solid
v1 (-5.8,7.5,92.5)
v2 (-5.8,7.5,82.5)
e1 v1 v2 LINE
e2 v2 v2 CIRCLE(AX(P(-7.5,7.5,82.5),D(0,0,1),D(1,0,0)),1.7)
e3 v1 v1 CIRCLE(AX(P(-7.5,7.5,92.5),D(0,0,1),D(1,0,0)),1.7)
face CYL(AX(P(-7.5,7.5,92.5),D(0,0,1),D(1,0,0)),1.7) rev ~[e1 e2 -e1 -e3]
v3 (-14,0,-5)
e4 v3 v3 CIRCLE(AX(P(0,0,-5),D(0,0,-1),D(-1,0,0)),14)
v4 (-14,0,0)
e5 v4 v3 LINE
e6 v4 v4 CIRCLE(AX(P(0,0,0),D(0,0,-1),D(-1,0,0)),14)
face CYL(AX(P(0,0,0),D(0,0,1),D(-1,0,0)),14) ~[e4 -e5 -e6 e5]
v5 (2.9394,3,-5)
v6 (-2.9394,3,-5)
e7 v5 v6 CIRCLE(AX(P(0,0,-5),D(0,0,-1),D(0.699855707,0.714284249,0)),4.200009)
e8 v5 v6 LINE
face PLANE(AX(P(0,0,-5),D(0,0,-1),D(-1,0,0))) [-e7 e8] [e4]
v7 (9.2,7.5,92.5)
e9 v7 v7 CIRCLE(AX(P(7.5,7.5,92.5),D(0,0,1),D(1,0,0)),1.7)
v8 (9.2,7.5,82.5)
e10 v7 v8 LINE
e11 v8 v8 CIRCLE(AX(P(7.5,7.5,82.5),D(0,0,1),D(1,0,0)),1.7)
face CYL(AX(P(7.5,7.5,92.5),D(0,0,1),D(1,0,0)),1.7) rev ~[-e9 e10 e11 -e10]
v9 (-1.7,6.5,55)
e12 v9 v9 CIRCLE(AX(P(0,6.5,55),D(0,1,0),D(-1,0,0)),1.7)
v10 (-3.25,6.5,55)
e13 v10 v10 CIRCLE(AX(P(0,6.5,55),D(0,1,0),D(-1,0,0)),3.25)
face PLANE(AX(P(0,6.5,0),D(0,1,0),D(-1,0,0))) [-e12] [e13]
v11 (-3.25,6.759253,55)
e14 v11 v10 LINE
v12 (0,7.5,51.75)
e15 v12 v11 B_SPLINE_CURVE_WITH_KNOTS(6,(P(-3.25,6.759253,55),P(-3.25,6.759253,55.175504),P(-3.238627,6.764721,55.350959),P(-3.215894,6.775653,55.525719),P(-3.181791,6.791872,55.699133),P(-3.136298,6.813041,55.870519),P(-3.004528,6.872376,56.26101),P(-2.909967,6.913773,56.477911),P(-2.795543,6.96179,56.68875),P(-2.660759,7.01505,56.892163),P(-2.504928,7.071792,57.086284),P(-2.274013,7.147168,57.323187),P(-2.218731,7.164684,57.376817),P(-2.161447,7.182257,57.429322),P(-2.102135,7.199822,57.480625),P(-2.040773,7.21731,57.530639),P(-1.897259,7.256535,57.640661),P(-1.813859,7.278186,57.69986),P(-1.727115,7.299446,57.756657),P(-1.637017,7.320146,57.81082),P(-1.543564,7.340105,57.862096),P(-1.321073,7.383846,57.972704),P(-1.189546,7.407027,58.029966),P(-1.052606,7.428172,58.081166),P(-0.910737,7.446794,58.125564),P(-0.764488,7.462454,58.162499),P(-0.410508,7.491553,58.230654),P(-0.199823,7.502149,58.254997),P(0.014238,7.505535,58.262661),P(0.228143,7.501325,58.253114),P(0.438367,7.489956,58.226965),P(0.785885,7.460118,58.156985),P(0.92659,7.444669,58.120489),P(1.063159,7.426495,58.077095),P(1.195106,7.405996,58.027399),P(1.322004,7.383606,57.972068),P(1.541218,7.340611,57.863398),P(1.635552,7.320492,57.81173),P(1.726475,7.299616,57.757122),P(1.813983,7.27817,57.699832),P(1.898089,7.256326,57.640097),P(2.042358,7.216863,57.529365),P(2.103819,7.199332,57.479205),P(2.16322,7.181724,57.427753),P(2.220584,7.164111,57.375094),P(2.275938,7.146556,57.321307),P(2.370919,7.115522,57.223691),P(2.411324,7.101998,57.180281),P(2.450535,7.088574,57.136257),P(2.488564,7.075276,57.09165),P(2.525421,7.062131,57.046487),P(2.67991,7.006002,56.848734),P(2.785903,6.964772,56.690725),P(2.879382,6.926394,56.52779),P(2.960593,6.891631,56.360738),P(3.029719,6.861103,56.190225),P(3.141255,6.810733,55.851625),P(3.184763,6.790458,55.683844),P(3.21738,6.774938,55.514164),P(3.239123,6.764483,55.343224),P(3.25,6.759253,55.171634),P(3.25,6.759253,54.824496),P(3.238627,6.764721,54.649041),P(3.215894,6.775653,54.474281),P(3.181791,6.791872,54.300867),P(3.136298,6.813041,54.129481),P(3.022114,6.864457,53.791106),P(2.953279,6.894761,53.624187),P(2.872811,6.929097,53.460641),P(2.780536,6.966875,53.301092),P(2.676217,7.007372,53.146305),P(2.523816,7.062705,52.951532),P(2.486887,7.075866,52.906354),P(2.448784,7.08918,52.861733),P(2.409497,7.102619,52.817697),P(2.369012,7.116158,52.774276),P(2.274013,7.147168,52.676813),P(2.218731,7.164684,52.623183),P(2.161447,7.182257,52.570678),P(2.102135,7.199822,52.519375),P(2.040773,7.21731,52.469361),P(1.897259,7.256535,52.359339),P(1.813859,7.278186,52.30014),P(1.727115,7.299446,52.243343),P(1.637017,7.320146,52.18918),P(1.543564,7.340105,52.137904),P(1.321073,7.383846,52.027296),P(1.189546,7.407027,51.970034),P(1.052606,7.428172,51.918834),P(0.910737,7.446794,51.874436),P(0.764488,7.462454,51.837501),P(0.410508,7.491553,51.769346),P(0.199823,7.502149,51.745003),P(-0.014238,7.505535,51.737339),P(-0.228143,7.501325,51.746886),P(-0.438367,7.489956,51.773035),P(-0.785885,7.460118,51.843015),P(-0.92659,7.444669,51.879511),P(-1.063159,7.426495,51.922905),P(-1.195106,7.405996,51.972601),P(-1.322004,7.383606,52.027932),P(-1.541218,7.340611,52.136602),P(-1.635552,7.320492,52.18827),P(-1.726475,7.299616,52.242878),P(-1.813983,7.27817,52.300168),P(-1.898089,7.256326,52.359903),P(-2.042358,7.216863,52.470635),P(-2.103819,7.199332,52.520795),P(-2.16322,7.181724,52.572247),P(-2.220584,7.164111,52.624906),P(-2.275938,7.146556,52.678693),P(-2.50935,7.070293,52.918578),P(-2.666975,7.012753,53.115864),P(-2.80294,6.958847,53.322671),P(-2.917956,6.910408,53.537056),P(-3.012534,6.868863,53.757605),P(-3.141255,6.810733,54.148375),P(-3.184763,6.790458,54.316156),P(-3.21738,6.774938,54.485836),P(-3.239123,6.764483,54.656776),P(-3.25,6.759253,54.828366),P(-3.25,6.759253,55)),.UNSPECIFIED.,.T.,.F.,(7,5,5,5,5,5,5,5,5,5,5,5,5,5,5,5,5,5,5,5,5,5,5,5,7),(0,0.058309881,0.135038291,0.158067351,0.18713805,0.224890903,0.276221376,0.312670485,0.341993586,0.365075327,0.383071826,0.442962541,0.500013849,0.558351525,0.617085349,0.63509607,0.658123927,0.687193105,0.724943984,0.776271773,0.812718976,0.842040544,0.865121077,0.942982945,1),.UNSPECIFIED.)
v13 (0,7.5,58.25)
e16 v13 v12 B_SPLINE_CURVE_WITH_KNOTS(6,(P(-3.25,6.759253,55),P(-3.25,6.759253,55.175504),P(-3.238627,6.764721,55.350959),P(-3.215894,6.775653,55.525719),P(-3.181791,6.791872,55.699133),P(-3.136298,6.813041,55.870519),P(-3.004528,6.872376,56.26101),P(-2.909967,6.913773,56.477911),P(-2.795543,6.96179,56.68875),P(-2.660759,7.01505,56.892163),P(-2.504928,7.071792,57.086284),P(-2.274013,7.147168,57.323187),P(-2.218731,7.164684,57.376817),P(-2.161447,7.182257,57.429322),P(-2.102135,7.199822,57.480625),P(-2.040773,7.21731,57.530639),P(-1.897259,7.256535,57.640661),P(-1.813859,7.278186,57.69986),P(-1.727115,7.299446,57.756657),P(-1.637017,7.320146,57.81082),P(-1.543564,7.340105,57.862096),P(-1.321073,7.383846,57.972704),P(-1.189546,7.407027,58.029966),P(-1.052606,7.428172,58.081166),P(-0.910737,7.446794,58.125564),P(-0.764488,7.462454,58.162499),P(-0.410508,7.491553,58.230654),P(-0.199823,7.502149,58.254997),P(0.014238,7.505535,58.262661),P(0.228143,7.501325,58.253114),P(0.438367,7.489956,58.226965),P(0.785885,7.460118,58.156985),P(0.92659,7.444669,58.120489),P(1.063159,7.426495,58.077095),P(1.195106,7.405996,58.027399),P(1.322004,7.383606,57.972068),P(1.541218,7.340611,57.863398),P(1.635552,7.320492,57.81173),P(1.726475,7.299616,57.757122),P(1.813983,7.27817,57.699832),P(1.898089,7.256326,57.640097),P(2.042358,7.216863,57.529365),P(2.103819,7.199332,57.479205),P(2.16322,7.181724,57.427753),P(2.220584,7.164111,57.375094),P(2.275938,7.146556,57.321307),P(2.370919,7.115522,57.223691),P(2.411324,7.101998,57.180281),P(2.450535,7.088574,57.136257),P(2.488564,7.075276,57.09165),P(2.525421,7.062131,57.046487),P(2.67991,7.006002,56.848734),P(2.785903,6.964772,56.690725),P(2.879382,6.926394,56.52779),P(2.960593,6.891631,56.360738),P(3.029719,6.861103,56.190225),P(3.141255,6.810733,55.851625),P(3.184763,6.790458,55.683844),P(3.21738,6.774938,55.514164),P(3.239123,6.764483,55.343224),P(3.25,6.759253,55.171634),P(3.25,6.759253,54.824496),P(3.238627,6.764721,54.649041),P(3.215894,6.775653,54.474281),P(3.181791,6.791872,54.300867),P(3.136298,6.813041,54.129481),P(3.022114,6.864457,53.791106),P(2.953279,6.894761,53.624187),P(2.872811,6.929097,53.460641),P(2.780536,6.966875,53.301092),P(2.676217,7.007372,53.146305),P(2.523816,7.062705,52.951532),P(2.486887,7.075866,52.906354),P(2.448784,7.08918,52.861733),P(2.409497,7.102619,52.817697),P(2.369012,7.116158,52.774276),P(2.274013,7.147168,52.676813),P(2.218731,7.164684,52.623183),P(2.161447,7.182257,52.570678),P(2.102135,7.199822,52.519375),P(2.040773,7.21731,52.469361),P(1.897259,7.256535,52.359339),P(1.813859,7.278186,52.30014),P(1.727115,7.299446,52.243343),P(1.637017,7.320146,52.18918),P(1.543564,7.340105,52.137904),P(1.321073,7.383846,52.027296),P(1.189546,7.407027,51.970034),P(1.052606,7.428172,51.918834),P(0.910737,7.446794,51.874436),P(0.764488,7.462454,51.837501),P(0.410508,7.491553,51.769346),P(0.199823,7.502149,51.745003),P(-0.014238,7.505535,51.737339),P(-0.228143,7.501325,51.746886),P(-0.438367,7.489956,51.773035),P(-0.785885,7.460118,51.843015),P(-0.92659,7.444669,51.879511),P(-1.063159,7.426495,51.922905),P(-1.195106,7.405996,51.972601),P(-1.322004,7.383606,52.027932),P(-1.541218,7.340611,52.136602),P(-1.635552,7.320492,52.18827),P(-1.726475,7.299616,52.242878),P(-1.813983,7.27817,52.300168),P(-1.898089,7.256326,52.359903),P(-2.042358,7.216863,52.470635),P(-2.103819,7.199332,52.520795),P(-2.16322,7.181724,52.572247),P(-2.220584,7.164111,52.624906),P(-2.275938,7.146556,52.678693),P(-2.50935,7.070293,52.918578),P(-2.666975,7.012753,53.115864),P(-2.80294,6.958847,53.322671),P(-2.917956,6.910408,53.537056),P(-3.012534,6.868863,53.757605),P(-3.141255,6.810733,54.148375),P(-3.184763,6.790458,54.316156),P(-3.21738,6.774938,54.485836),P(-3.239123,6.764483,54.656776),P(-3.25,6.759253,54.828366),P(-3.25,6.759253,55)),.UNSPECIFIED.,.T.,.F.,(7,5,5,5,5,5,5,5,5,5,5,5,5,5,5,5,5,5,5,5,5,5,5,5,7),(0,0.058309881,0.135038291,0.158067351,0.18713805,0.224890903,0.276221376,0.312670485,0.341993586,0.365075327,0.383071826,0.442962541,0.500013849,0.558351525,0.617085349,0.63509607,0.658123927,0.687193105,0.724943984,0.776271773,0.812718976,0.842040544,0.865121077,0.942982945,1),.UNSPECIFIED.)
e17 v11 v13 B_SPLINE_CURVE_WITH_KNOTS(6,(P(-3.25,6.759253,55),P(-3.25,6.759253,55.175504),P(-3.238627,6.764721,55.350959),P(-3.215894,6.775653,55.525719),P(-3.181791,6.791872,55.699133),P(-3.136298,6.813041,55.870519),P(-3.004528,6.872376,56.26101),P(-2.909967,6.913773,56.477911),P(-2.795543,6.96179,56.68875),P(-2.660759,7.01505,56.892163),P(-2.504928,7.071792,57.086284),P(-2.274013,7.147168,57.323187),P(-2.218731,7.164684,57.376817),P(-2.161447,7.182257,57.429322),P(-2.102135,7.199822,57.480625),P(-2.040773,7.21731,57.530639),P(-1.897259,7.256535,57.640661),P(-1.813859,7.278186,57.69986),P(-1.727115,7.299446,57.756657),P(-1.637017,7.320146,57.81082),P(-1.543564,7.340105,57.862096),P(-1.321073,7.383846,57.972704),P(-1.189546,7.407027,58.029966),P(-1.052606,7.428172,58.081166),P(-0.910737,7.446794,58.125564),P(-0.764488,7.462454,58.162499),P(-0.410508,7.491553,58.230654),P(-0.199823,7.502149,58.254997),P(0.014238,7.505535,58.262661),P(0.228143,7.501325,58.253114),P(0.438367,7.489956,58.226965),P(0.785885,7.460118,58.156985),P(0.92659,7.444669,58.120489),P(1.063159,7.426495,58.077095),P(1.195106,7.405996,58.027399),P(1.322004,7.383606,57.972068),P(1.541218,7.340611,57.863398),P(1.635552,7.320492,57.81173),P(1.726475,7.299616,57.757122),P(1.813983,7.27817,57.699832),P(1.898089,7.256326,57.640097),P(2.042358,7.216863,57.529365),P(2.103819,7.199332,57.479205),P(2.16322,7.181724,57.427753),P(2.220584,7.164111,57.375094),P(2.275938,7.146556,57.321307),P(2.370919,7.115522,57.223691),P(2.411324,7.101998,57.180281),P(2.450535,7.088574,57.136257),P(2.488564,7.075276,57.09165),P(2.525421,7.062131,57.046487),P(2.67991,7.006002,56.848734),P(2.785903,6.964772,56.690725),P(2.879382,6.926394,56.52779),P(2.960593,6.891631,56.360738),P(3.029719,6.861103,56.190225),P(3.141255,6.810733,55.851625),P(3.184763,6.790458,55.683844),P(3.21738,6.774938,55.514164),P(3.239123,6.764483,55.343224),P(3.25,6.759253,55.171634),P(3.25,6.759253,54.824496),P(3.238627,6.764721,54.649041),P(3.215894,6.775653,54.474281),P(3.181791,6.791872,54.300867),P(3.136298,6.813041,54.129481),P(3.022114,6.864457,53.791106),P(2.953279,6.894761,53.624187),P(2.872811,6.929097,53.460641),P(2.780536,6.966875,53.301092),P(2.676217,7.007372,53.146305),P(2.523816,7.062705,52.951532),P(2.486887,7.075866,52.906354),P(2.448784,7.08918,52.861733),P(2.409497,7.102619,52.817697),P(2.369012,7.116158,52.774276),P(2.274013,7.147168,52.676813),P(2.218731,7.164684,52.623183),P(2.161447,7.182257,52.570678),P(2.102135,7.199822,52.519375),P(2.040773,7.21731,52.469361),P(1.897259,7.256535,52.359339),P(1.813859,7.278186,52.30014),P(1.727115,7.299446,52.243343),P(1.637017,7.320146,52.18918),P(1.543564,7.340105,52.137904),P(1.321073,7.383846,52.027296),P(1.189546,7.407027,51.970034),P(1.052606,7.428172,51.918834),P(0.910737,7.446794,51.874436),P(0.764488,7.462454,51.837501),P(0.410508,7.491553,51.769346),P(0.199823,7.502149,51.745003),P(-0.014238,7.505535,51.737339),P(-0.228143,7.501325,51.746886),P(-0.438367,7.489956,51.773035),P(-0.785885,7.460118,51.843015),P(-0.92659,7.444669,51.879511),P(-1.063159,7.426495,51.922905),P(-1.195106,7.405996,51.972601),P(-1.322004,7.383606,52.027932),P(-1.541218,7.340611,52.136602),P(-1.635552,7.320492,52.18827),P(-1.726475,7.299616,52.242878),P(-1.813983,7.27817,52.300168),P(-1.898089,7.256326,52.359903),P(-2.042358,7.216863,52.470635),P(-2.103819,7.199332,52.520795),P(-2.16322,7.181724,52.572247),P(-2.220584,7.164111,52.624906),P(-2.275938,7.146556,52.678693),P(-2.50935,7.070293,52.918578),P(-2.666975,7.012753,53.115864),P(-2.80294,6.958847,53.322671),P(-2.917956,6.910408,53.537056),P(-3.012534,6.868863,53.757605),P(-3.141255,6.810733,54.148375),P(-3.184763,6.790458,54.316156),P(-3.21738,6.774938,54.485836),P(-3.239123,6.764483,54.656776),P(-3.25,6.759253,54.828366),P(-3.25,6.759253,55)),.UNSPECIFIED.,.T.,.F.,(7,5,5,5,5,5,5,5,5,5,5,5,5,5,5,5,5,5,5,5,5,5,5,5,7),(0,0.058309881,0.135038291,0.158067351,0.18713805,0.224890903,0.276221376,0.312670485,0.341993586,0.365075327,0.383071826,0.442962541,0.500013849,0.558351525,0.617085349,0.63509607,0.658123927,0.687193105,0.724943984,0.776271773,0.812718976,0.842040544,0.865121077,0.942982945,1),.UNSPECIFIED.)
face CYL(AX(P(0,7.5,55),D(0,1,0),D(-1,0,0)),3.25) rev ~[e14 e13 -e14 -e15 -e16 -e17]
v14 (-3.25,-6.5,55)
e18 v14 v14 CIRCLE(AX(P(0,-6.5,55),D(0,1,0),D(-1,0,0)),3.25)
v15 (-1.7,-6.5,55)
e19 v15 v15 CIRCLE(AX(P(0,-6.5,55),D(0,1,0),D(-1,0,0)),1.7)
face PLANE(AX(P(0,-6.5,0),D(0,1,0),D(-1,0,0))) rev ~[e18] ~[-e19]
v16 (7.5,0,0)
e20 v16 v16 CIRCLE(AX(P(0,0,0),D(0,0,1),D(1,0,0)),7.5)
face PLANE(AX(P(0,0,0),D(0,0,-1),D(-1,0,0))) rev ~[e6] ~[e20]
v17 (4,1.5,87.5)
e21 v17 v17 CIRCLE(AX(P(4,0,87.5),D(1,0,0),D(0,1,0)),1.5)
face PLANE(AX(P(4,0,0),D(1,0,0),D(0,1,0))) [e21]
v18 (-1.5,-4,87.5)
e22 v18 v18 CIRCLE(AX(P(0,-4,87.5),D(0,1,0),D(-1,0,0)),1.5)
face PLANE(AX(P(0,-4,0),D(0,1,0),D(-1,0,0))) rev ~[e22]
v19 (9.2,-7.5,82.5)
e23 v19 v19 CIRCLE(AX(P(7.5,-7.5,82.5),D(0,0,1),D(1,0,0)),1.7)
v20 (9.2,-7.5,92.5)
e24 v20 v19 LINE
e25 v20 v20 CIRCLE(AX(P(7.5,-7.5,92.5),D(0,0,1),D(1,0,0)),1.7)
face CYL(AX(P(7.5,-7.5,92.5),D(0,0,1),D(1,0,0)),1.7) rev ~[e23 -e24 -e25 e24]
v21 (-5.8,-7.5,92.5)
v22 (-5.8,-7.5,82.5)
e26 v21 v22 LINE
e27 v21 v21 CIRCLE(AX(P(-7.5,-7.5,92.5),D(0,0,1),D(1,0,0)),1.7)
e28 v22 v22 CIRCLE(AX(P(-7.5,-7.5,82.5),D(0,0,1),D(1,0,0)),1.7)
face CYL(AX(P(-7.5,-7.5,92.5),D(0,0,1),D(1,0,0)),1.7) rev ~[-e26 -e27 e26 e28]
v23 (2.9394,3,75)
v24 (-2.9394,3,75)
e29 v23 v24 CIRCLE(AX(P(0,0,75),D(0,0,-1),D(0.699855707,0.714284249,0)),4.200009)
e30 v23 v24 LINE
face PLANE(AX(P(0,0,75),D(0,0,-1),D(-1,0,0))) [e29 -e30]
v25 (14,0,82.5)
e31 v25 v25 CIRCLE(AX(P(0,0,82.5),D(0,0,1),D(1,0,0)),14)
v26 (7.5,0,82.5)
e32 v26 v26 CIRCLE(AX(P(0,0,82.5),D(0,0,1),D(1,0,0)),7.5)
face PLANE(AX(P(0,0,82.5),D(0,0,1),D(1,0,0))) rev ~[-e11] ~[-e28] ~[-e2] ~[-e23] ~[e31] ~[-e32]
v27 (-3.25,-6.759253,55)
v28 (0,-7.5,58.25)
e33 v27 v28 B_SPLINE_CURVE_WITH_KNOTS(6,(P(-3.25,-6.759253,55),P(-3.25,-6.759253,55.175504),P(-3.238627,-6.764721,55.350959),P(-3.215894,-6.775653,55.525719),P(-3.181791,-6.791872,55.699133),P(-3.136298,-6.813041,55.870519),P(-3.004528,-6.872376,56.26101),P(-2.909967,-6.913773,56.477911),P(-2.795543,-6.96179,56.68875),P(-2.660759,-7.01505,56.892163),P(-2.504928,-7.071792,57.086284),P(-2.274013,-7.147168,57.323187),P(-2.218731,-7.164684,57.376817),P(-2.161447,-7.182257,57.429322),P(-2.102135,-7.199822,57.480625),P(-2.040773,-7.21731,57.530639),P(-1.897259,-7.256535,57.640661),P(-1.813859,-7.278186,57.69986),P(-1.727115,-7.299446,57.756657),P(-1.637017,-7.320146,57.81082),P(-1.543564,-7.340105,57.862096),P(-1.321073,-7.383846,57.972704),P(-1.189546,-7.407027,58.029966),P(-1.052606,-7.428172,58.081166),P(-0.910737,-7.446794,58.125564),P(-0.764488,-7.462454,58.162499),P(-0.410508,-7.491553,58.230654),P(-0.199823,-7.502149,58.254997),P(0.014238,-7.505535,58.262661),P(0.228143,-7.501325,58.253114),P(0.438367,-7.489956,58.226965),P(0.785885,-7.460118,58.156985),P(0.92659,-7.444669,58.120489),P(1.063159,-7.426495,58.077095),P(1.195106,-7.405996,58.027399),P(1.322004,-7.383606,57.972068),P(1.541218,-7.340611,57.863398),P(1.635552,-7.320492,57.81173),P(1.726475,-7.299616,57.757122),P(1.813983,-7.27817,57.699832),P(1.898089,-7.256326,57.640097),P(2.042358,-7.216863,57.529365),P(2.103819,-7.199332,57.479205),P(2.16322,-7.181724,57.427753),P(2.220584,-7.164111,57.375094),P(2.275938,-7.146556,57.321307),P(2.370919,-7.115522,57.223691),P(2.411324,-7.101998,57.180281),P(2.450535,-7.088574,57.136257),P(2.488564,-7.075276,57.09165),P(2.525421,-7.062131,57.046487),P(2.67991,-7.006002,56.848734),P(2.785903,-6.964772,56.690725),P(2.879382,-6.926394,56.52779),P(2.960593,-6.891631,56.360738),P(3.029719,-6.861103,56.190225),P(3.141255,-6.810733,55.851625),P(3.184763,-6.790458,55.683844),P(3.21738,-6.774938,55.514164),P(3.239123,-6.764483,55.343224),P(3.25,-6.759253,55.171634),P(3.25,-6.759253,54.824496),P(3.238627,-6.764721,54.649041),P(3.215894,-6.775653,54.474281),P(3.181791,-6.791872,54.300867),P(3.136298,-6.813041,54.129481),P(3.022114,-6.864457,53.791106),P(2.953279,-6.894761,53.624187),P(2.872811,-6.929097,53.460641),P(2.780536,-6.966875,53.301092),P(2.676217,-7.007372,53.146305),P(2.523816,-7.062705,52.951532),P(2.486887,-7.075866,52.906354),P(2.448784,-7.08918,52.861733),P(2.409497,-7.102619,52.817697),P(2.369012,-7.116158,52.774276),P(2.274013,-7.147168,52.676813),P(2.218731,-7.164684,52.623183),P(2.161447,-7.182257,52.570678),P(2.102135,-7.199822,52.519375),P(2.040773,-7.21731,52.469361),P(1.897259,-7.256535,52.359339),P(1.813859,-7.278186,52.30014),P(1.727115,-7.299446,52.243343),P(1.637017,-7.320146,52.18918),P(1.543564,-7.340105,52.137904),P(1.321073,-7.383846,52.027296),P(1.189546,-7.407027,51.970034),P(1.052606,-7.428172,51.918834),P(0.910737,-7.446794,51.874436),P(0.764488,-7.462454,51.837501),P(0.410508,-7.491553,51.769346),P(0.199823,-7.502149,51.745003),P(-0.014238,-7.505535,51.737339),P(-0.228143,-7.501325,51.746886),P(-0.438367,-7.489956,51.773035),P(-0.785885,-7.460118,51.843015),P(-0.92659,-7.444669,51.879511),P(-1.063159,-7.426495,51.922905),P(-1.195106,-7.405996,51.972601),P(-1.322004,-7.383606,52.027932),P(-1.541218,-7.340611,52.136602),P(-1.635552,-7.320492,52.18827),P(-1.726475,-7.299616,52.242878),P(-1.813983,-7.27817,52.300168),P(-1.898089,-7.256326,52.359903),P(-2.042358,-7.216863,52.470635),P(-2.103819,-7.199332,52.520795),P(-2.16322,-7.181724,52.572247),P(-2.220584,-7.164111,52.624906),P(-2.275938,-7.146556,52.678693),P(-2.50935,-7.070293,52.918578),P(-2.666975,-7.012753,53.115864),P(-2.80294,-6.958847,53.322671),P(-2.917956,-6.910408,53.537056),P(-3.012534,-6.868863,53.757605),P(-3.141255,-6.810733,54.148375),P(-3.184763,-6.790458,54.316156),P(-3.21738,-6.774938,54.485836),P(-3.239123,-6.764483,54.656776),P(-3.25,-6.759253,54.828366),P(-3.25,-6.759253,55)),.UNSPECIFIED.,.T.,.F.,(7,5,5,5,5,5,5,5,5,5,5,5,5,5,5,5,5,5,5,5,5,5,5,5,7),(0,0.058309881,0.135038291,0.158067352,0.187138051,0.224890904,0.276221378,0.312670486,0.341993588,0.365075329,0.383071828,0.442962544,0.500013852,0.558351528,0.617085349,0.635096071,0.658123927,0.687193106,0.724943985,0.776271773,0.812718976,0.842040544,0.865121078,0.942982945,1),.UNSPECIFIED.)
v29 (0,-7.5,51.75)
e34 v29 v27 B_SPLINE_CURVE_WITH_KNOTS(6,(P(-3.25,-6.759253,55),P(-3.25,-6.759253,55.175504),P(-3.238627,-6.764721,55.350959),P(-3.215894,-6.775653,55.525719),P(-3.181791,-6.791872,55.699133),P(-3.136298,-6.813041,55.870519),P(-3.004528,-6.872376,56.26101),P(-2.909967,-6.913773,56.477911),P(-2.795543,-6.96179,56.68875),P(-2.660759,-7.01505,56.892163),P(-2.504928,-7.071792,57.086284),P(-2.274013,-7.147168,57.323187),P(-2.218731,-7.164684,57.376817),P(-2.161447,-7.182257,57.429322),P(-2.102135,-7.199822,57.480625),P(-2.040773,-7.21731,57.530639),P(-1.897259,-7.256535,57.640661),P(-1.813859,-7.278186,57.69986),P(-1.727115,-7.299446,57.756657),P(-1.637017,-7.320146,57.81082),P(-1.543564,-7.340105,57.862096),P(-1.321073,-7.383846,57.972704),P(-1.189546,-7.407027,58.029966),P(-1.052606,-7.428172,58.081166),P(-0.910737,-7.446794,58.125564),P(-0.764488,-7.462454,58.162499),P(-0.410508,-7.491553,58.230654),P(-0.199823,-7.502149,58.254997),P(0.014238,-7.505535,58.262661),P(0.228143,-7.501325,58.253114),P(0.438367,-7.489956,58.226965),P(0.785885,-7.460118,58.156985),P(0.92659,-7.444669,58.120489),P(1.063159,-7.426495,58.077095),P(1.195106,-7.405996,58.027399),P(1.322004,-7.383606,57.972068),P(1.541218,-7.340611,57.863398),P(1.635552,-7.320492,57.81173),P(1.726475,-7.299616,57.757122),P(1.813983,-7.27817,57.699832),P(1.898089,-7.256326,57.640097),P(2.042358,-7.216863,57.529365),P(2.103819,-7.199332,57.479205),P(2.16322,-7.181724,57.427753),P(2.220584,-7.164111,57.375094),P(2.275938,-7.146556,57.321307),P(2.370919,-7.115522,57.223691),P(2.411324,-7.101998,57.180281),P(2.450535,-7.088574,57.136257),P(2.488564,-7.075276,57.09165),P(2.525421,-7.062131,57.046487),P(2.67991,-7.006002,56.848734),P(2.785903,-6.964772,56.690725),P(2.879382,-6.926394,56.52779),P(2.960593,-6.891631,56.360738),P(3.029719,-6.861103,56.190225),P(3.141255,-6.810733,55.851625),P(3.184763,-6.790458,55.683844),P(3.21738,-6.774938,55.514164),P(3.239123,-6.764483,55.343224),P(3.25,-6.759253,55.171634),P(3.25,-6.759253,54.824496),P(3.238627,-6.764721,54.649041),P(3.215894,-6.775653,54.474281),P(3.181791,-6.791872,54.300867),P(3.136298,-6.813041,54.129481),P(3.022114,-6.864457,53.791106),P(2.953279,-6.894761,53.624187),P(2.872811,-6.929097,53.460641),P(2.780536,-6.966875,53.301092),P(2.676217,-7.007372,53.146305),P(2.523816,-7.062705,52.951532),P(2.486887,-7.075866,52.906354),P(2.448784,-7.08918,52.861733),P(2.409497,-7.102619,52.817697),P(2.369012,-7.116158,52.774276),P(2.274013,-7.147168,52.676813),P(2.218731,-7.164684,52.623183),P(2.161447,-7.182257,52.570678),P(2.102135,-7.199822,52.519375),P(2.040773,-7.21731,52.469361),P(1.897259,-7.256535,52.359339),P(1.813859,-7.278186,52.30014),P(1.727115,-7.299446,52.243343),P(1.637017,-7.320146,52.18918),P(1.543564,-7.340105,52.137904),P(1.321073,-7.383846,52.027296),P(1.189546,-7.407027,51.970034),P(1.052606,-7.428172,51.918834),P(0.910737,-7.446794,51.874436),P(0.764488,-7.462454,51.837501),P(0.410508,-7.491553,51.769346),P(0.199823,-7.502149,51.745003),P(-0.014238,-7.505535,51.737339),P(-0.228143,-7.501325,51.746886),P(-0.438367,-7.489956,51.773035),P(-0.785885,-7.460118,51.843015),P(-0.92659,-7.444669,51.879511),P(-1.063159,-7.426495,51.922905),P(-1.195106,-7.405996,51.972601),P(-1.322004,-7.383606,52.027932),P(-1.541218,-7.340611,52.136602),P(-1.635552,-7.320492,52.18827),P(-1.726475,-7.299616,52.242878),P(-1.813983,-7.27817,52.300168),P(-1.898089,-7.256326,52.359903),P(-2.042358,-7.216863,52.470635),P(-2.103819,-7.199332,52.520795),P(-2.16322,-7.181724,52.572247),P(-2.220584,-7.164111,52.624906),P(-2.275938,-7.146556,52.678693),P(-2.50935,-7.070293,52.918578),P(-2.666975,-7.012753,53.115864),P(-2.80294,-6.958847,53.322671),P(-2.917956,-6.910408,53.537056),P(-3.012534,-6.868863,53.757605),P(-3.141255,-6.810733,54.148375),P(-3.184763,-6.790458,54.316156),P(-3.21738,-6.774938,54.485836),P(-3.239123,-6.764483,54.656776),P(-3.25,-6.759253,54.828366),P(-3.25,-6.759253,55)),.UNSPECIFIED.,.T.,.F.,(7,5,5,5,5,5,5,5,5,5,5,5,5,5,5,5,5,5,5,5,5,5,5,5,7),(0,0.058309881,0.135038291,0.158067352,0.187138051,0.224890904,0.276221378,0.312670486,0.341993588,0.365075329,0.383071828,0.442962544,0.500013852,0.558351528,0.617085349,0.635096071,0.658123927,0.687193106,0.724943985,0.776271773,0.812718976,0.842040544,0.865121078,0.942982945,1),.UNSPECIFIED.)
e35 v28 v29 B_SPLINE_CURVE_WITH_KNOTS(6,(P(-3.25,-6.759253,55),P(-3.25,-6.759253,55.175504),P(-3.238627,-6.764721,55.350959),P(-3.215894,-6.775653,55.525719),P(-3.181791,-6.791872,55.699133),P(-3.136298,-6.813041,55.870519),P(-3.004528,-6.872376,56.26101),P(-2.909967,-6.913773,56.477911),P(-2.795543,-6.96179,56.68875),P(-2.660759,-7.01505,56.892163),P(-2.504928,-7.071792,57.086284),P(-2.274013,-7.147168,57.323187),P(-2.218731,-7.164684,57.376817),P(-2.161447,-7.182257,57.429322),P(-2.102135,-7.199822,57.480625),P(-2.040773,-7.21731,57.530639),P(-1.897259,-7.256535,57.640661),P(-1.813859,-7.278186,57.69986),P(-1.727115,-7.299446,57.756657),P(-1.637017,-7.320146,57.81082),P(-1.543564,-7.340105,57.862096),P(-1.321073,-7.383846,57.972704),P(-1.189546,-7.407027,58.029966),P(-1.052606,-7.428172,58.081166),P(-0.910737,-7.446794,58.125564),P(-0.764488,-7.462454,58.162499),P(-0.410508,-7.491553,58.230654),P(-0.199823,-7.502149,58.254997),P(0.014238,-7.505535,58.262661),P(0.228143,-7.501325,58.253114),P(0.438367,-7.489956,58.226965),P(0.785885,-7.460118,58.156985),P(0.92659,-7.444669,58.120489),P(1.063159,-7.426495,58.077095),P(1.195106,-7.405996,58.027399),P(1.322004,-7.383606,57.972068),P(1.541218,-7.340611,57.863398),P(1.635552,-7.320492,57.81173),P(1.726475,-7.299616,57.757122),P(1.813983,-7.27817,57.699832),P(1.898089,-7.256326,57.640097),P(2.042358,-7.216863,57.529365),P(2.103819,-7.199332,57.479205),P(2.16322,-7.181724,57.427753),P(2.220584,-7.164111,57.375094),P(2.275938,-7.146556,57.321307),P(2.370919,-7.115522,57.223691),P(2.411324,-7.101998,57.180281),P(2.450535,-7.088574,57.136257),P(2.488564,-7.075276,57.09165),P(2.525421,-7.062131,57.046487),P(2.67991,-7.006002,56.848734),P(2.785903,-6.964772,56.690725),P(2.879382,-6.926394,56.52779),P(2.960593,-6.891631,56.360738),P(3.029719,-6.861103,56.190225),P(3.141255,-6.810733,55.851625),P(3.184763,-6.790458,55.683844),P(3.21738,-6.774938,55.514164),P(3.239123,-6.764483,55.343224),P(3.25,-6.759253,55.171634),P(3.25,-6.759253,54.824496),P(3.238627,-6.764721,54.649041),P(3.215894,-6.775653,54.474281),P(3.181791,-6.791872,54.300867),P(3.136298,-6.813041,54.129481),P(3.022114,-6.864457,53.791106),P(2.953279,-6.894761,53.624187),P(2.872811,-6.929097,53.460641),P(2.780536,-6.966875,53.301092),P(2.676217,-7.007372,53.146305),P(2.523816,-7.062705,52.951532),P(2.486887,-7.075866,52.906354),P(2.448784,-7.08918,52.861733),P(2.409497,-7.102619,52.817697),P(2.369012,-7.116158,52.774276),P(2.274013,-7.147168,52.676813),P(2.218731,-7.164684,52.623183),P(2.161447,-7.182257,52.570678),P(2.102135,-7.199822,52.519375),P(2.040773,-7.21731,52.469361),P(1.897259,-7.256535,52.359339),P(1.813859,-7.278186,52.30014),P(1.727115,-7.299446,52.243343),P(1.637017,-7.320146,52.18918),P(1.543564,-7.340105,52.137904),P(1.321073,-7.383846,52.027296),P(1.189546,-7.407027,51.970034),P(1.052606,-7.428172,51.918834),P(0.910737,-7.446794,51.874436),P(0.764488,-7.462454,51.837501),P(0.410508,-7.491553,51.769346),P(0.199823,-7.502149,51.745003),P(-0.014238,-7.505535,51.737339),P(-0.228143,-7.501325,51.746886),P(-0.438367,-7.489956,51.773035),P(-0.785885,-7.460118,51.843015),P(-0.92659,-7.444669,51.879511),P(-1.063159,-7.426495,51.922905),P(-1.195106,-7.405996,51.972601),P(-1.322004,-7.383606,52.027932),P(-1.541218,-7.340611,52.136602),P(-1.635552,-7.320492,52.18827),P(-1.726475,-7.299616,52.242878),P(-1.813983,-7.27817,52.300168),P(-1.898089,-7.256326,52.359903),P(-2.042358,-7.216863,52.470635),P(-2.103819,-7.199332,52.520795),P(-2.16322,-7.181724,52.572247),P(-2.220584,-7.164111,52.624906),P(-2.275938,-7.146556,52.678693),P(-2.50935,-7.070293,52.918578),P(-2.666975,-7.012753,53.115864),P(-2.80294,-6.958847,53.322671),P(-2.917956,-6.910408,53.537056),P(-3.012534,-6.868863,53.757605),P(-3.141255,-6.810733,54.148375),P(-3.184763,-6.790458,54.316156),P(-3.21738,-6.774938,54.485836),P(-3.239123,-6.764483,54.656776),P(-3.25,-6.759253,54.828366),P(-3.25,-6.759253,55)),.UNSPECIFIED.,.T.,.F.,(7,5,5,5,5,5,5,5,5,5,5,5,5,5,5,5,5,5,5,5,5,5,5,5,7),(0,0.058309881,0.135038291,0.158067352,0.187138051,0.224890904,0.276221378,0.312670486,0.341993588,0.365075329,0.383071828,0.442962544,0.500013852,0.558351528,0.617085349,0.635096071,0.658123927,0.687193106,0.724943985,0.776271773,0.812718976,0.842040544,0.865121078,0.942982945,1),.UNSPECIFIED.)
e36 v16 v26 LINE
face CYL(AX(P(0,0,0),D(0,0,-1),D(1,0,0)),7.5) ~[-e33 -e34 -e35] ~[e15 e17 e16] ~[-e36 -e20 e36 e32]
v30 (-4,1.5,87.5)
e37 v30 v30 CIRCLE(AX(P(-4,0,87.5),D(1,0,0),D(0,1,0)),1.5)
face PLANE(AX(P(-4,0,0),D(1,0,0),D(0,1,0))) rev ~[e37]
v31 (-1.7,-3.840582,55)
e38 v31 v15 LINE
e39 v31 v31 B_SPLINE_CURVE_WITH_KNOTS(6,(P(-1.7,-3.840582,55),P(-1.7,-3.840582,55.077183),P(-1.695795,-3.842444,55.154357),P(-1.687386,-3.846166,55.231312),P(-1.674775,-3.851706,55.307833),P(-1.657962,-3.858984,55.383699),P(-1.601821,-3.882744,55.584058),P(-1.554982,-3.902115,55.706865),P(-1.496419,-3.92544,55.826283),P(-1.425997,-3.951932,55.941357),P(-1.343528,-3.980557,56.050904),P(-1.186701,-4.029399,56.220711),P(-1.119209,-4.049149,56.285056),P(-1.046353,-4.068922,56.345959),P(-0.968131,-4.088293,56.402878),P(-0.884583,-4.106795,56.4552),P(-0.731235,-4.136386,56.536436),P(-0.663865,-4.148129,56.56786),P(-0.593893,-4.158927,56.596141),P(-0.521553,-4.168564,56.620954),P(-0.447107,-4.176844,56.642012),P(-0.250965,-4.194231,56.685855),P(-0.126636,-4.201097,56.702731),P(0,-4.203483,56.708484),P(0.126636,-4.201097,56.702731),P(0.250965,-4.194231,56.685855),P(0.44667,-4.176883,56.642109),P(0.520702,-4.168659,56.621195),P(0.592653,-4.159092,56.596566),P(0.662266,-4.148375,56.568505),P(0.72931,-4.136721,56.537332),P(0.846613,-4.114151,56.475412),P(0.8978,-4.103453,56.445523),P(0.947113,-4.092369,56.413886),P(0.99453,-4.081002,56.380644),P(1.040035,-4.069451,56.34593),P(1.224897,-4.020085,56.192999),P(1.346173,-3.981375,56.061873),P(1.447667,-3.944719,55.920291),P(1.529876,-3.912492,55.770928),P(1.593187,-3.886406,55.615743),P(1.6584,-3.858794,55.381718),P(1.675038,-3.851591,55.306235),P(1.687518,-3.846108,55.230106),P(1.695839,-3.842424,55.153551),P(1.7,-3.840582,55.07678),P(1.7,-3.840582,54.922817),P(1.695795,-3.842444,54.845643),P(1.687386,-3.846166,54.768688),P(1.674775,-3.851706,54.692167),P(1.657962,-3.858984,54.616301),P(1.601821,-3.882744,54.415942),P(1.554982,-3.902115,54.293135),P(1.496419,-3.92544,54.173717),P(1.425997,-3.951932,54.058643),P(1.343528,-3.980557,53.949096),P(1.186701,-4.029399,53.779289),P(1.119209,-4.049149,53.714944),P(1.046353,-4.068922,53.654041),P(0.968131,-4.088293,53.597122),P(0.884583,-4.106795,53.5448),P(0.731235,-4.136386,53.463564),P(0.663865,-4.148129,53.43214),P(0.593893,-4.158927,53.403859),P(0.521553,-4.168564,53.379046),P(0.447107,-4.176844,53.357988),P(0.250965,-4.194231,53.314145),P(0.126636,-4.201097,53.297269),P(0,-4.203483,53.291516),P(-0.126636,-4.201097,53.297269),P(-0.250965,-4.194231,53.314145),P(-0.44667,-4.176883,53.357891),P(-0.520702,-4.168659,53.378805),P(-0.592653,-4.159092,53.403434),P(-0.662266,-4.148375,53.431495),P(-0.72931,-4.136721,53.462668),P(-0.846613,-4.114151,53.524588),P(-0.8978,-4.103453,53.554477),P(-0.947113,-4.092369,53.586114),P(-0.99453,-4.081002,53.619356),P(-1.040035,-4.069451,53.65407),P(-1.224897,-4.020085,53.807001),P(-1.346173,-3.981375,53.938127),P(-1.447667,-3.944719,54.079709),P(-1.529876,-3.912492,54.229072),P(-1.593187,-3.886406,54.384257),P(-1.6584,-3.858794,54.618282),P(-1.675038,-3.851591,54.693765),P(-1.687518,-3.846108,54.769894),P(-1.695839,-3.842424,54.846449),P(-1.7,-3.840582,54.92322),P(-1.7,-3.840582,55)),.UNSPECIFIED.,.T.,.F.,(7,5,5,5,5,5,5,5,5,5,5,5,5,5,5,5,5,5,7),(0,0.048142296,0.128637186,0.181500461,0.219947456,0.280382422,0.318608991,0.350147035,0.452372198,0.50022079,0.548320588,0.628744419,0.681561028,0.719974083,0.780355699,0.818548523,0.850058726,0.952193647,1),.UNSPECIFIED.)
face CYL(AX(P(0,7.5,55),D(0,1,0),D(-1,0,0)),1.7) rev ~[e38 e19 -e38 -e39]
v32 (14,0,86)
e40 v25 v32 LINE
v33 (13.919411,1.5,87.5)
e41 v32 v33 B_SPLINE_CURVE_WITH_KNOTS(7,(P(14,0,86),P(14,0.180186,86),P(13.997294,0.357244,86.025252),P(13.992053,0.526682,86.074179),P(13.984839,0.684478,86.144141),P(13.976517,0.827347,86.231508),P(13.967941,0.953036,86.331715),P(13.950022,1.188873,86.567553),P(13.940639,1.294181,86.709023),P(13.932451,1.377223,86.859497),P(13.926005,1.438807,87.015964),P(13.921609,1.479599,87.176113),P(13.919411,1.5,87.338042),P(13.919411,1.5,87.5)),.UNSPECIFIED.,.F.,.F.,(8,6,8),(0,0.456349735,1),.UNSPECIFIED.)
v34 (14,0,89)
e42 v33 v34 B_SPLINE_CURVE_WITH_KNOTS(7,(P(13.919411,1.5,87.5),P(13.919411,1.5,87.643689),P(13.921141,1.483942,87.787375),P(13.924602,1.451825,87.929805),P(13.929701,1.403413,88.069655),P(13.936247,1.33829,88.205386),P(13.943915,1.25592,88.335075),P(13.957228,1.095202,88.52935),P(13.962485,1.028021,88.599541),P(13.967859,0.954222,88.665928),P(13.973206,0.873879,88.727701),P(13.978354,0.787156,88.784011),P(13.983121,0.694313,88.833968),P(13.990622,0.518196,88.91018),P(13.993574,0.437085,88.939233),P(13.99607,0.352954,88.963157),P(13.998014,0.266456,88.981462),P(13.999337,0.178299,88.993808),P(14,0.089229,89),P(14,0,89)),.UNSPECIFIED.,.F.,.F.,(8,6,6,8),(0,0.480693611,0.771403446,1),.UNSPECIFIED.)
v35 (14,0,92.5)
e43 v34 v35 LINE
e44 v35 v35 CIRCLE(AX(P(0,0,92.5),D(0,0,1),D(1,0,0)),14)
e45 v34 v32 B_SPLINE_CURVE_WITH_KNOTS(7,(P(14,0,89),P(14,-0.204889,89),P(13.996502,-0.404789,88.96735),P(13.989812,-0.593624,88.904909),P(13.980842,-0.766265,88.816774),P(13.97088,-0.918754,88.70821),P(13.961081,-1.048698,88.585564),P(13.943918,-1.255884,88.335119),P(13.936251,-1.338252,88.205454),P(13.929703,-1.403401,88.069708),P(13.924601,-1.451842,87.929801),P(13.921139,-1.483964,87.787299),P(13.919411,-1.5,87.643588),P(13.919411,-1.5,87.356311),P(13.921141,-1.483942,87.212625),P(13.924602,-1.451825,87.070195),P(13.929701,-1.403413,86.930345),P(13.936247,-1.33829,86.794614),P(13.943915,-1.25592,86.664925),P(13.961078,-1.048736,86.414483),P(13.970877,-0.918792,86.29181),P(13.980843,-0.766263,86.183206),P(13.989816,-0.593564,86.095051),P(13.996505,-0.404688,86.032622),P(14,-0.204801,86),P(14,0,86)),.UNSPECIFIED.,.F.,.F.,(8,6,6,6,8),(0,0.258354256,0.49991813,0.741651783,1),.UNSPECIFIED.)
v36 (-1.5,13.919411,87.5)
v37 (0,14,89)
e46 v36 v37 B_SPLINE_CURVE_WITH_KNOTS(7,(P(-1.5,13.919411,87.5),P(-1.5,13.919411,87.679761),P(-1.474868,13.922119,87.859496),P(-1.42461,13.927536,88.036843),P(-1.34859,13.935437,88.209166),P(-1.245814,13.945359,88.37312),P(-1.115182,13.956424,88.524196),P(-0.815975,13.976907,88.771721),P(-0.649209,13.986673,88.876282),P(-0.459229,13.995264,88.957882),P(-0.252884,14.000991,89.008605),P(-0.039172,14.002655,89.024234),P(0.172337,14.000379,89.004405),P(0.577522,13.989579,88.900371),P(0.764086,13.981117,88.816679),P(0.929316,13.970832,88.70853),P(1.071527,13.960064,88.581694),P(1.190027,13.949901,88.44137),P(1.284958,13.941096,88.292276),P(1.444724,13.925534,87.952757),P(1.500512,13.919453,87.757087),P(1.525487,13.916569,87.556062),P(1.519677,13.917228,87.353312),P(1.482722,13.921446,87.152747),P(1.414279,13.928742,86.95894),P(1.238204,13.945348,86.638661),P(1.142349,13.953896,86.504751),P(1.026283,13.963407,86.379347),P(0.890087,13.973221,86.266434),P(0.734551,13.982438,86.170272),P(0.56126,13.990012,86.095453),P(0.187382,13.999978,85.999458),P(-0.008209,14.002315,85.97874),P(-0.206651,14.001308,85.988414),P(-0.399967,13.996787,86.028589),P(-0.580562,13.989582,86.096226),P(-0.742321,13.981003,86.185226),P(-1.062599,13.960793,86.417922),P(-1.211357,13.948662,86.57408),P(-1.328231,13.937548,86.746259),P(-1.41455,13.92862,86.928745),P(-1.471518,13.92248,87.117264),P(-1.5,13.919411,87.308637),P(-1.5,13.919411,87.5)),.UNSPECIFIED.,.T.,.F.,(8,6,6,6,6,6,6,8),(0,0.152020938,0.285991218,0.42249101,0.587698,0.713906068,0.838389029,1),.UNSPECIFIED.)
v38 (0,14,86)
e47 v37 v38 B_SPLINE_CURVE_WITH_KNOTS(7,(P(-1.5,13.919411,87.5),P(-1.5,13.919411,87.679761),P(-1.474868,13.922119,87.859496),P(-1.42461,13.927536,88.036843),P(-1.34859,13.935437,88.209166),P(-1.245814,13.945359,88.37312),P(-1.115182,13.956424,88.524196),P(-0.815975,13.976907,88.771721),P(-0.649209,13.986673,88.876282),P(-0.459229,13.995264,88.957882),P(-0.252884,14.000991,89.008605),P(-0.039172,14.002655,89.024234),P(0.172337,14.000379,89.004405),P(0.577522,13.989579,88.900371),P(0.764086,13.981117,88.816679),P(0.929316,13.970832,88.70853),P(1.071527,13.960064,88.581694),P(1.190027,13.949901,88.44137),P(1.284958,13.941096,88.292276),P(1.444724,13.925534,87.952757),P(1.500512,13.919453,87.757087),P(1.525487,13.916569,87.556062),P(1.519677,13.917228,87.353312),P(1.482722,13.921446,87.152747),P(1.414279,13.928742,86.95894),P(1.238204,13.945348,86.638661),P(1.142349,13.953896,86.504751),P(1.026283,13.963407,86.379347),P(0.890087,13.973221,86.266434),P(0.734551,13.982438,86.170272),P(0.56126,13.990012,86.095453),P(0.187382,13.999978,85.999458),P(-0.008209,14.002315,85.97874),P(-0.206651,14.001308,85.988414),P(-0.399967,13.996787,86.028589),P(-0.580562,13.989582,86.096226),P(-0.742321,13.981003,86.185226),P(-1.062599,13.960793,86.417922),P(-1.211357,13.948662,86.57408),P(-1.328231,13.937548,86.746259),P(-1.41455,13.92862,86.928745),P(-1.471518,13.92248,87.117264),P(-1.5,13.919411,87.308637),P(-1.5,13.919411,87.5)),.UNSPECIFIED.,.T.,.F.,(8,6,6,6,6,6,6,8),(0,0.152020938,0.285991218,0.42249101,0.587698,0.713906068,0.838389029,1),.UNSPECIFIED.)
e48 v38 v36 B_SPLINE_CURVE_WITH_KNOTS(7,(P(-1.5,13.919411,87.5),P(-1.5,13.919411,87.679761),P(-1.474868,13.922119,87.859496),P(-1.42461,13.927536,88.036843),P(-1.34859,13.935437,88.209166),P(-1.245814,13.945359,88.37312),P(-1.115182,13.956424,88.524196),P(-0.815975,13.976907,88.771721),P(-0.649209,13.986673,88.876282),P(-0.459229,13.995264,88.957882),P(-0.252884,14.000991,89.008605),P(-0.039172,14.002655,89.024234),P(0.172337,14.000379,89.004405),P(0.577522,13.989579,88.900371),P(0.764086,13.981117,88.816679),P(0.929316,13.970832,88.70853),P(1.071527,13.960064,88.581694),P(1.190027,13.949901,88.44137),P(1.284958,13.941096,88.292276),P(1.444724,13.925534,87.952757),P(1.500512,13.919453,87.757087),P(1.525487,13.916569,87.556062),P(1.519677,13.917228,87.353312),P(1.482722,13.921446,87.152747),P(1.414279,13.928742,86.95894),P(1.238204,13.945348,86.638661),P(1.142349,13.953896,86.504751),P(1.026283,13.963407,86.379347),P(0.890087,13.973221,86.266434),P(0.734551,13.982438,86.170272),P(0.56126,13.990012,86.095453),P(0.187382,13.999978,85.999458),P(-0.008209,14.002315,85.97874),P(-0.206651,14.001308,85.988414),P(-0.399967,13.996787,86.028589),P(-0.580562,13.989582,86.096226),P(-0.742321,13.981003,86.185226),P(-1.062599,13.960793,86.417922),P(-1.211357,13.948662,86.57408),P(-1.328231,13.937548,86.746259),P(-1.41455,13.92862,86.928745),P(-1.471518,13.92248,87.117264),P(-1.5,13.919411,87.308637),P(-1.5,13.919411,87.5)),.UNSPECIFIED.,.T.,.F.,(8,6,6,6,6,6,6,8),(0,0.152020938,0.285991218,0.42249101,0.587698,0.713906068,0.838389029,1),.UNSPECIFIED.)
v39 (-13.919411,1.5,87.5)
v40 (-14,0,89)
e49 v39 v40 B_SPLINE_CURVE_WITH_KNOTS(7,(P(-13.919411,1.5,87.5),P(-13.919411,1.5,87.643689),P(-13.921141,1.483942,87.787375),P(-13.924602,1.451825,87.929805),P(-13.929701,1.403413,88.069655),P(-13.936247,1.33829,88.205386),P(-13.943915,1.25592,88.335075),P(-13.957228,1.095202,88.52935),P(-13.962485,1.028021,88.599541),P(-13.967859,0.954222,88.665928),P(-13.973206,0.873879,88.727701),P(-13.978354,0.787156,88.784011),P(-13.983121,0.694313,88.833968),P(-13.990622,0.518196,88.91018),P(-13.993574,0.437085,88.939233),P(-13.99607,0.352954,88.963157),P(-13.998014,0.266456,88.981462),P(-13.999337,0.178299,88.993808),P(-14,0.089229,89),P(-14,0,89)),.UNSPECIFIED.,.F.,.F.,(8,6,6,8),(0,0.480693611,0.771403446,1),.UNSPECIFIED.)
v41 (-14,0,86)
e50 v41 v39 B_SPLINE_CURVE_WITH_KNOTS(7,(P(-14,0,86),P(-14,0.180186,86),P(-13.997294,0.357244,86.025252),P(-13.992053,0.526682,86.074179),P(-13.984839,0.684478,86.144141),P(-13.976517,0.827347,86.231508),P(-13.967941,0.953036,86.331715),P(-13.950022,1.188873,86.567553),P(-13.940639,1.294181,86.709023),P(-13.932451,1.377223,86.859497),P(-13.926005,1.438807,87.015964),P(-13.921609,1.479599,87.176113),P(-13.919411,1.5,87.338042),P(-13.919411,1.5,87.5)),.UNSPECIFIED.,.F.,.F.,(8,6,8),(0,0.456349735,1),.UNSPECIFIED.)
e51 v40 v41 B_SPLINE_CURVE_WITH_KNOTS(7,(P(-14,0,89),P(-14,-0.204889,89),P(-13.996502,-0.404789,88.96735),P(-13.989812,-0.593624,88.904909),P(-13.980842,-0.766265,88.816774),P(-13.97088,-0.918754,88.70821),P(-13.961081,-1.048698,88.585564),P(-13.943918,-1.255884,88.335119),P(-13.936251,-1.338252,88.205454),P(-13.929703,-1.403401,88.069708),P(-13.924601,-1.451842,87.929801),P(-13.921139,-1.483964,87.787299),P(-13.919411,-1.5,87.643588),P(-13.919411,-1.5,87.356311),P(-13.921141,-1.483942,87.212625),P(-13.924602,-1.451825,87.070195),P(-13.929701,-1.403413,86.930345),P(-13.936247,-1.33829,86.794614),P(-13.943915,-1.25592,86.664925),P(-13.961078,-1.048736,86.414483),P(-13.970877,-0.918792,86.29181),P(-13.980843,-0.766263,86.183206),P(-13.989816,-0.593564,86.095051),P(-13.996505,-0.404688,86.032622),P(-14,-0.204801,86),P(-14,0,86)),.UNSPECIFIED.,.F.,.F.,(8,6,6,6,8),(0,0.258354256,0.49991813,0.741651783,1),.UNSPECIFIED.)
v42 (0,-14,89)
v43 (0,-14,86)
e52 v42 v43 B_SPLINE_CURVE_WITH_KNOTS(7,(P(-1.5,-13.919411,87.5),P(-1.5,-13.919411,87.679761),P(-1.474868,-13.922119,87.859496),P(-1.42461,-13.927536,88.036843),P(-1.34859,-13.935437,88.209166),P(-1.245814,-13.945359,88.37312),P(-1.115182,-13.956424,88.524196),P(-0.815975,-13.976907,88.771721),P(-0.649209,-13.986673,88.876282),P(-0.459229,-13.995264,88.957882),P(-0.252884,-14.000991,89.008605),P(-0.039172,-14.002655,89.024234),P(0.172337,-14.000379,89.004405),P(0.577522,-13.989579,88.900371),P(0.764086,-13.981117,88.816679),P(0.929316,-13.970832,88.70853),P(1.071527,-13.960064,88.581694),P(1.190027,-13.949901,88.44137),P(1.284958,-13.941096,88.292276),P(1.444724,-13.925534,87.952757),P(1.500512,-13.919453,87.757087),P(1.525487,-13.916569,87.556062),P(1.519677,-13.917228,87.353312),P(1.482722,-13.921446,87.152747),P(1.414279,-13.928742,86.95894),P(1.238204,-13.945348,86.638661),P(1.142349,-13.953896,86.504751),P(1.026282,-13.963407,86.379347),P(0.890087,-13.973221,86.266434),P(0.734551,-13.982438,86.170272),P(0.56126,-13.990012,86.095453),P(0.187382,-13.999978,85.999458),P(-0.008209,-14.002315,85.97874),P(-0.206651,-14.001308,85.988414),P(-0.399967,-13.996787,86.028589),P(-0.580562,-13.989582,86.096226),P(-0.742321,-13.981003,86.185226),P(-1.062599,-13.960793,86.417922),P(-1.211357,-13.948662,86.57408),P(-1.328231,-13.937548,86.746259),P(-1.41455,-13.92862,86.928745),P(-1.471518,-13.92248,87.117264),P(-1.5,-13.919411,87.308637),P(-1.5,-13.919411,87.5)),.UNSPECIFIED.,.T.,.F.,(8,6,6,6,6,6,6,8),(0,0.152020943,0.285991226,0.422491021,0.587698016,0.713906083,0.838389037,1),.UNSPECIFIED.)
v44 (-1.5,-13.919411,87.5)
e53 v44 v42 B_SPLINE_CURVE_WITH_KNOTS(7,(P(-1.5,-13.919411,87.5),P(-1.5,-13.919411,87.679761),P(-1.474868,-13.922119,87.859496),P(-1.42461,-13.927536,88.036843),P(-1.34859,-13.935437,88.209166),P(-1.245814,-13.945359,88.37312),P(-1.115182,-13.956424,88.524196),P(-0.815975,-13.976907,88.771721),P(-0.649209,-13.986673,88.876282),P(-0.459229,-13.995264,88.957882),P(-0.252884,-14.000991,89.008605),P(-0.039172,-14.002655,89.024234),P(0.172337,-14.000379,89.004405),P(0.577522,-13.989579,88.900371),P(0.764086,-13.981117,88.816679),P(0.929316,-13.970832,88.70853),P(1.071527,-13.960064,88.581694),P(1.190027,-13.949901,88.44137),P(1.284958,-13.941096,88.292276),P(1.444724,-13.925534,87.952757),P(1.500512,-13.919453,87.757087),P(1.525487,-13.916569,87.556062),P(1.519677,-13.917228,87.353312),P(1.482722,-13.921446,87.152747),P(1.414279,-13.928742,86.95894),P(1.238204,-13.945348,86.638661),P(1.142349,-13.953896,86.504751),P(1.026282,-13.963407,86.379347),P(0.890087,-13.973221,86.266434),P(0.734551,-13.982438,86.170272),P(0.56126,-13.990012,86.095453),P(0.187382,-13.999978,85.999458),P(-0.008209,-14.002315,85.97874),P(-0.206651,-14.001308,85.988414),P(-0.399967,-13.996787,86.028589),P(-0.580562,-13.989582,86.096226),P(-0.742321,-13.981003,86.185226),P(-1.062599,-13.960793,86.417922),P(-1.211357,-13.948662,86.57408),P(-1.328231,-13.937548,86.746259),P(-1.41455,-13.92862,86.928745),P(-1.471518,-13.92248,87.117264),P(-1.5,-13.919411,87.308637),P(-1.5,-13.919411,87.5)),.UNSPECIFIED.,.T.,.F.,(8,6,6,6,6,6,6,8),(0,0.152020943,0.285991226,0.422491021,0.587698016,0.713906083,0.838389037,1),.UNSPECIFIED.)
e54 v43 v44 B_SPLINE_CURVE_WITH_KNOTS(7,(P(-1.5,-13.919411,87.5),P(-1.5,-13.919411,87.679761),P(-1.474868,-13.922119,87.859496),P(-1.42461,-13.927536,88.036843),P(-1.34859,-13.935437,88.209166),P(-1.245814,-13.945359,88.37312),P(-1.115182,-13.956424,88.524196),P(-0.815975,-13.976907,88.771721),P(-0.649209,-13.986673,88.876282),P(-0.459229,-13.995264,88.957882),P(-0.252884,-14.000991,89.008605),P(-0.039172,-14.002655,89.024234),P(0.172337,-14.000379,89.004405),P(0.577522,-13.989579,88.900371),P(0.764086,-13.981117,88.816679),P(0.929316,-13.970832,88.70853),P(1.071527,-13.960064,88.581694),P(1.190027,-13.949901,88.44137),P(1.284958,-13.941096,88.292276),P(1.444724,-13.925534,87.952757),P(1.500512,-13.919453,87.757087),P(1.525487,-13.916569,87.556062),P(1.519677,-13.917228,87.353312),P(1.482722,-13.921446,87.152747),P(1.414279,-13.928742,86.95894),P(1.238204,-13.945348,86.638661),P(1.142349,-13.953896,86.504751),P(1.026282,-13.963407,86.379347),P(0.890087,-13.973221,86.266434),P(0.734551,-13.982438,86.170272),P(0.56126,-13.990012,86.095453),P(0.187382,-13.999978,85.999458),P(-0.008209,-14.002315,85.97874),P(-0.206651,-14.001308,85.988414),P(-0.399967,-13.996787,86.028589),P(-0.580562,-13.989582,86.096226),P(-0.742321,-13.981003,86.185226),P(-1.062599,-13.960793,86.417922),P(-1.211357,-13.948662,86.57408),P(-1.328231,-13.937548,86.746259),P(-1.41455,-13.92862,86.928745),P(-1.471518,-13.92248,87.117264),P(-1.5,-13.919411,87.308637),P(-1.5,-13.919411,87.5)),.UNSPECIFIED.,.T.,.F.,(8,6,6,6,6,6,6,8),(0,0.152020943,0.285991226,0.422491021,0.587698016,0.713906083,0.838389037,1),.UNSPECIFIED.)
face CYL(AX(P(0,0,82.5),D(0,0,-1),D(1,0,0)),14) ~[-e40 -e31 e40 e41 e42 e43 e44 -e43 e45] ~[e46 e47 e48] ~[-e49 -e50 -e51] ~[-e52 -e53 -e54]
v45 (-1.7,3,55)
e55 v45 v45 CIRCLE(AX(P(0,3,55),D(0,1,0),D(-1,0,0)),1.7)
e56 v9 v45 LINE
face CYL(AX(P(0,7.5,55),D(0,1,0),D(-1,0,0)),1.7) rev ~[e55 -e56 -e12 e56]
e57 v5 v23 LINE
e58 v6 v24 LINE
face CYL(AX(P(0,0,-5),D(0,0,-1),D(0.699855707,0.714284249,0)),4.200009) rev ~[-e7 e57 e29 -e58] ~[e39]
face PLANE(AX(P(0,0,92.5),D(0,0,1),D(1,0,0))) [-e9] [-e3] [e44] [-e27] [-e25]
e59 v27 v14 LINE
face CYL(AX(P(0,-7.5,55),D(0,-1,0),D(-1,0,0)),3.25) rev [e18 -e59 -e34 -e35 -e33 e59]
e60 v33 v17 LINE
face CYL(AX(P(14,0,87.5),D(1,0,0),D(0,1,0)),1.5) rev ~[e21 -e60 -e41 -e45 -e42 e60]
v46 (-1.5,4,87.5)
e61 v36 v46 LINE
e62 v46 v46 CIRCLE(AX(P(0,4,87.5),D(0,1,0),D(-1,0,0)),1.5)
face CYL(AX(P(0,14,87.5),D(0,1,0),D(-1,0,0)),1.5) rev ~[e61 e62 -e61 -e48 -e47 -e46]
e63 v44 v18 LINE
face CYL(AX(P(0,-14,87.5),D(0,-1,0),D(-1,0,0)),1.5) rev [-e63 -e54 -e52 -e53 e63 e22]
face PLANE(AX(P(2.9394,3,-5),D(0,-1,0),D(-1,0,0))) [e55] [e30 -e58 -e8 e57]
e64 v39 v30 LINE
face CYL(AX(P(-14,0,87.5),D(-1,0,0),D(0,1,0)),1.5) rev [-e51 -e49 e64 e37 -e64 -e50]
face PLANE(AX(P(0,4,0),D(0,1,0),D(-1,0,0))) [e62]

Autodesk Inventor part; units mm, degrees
sketch "スケッチ1" plane through (0, 0, 0) normal (0, 0, 1) x (1, 0, 0)
  circle A0 centre (0, 0) radius 7.5
  dimension "d0" = 15
extrude "押し出し1" add sketch "スケッチ1" along normal blind 82.5
ref_plane "作業平面1" through (14, 0, 0) normal (1, 0, 0) x (0, 1, 0)
ref_plane "作業平面2" through (-14, 0, 0) normal (1, 0, 0) x (0, 1, 0)
ref_plane "作業平面3" through (0, 7.5, 0) normal (0, 1, 0) x (-1, 0, 0)
ref_plane "作業平面4" through (0, -7.5, 0) normal (0, 1, 0) x (-1, 0, 0)
sketch "スケッチ7" plane through (0, 7.5, 0) normal (0, 1, 0) x (-1, 0, 0)
  circle A0 centre (0, 55) radius 1.7
  line L0 (7.5, 82.5) -> (-7.5, 82.5) projected
  point P0 (0, 0)
  dimension "d35" = 3.4
  dimension "d87" = 27.5
extrude "押し出し7" cut sketch "スケッチ7" against normal through all
sketch "スケッチ8" plane through (0, 7.5, 0) normal (0, 1, 0) x (-1, 0, 0)
  circle A0 centre (0, 55) radius 3.25
  line L0 (7.5, 82.5) -> (-7.5, 82.5) projected
  point P0 (0, 0)
  dimension "d39" = 6.5
  dimension "d85" = 27.5
sketch "スケッチ9" plane through (0, -7.5, 0) normal (0, 1, 0) x (-1, 0, 0)
  circle A0 centre (0, 55) radius 3.25
  line L0 (7.5, 82.5) -> (-7.5, 82.5) projected
  point P0 (0, 0)
  dimension "d41" = 6.5
  dimension "d86" = 27.5
extrude "押し出し8" cut sketch "スケッチ8" against normal blind 1
extrude "押し出し9" cut sketch "スケッチ9" along normal blind 1
sketch "スケッチ10" plane through (0, 0, 82.5) normal (0, 0, 1) x (1, 0, 0)
  circle A0 centre (0, 0) radius 14
  dimension "d47" = 28
extrude "押し出し10" add sketch "スケッチ10" along normal blind 10
ref_plane "作業平面5" through (0, 14, 0) normal (0, 1, 0) x (-1, 0, 0)
ref_plane "作業平面6" through (0, -14, 0) normal (0, 1, 0) x (-1, 0, 0)
sketch "スケッチ11" plane through (0, 14, 0) normal (0, 1, 0) x (-1, 0, 0)
  circle A0 centre (0, 87.5) radius 1.5
  line L0 (14, 92.5) -> (-14, 92.5) projected
  point P0 (0, 0)
  dimension "d52" = 3
  dimension "d53" = 5
sketch "スケッチ12" plane through (0, -14, 0) normal (0, 1, 0) x (-1, 0, 0)
  circle A0 centre (0, 87.5) radius 1.5
  line L0 (14, 92.5) -> (-14, 92.5) projected
  point P0 (0, 0)
  dimension "d54" = 3
  dimension "d55" = 5
sketch "スケッチ13" plane through (-14, 0, 0) normal (1, 0, 0) x (0, 1, 0)
  circle A0 centre (0, 87.5) radius 1.5
  line L0 (14, 92.5) -> (-14, 92.5) projected
  point P0 (0, 0)
  dimension "d56" = 3
  dimension "d57" = 5
sketch "スケッチ14" plane through (14, 0, 0) normal (1, 0, 0) x (0, 1, 0)
  circle A0 centre (0, 87.5) radius 1.5
  line L0 (14, 92.5) -> (-14, 92.5) projected
  point P0 (0, 0)
  dimension "d58" = 3
  dimension "d59" = 5
extrude "押し出し11" cut sketch "スケッチ11" against normal blind 10
extrude "押し出し12" cut sketch "スケッチ12" along normal blind 10
extrude "押し出し13" cut sketch "スケッチ14" against normal blind 10
extrude "押し出し14" cut sketch "スケッチ13" along normal blind 10
thread "ねじ5" size "M3x0.5" class "6H" standard "ANSI Metric M Profile" full length
thread "ねじ6" size "M3x0.5" class "6H" standard "ANSI Metric M Profile" full length
thread "ねじ7" size "M3x0.5" class "6H" standard "ANSI Metric M Profile" full length
thread "ねじ8" size "M3x0.5" class "6H" standard "ANSI Metric M Profile" full length
sketch "スケッチ15" plane through (0, 0, 92.5) normal (0, 0, 1) x (1, 0, 0)
  circle A0 centre (7.5, 7.5) radius 1.7
  circle A1 centre (-7.5, 7.5) radius 1.7
  circle A2 centre (-7.5, -7.5) radius 1.7
  circle A3 centre (7.5, -7.5) radius 1.7
  point P0 (0, 0)
  dimension "d76" = 3.4
  dimension "d77" = 7.5
  dimension "d78" = 7.5
  dimension "d81" = 360
extrude "押し出し15" cut sketch "スケッチ15" against normal through all
sketch "スケッチ16" plane through (0, 0, 0) normal (0, 0, -1) x (-1, 0, 0)
  circle A0 centre (0, 0) radius 14
  dimension "d88" = 28
extrude "押し出し16" add sketch "スケッチ16" along normal blind 5
sketch "スケッチ17" plane through (0, 0, -5) normal (0, 0, -1) x (-1, 0, 0)
  arc A0 (-2.9394, 3) -> (2.9394, 3) centre (0, 0) ccw
  line L0 (-2.9394, 3) -> (2.9394, 3)
  dimension "d91" = 4.2
  dimension "d92" = 3
extrude "押し出し17" cut sketch "スケッチ17" against normal blind 80
properties part number "rotary_transfer_shaft_5_2" material "ステンレス鋼"
